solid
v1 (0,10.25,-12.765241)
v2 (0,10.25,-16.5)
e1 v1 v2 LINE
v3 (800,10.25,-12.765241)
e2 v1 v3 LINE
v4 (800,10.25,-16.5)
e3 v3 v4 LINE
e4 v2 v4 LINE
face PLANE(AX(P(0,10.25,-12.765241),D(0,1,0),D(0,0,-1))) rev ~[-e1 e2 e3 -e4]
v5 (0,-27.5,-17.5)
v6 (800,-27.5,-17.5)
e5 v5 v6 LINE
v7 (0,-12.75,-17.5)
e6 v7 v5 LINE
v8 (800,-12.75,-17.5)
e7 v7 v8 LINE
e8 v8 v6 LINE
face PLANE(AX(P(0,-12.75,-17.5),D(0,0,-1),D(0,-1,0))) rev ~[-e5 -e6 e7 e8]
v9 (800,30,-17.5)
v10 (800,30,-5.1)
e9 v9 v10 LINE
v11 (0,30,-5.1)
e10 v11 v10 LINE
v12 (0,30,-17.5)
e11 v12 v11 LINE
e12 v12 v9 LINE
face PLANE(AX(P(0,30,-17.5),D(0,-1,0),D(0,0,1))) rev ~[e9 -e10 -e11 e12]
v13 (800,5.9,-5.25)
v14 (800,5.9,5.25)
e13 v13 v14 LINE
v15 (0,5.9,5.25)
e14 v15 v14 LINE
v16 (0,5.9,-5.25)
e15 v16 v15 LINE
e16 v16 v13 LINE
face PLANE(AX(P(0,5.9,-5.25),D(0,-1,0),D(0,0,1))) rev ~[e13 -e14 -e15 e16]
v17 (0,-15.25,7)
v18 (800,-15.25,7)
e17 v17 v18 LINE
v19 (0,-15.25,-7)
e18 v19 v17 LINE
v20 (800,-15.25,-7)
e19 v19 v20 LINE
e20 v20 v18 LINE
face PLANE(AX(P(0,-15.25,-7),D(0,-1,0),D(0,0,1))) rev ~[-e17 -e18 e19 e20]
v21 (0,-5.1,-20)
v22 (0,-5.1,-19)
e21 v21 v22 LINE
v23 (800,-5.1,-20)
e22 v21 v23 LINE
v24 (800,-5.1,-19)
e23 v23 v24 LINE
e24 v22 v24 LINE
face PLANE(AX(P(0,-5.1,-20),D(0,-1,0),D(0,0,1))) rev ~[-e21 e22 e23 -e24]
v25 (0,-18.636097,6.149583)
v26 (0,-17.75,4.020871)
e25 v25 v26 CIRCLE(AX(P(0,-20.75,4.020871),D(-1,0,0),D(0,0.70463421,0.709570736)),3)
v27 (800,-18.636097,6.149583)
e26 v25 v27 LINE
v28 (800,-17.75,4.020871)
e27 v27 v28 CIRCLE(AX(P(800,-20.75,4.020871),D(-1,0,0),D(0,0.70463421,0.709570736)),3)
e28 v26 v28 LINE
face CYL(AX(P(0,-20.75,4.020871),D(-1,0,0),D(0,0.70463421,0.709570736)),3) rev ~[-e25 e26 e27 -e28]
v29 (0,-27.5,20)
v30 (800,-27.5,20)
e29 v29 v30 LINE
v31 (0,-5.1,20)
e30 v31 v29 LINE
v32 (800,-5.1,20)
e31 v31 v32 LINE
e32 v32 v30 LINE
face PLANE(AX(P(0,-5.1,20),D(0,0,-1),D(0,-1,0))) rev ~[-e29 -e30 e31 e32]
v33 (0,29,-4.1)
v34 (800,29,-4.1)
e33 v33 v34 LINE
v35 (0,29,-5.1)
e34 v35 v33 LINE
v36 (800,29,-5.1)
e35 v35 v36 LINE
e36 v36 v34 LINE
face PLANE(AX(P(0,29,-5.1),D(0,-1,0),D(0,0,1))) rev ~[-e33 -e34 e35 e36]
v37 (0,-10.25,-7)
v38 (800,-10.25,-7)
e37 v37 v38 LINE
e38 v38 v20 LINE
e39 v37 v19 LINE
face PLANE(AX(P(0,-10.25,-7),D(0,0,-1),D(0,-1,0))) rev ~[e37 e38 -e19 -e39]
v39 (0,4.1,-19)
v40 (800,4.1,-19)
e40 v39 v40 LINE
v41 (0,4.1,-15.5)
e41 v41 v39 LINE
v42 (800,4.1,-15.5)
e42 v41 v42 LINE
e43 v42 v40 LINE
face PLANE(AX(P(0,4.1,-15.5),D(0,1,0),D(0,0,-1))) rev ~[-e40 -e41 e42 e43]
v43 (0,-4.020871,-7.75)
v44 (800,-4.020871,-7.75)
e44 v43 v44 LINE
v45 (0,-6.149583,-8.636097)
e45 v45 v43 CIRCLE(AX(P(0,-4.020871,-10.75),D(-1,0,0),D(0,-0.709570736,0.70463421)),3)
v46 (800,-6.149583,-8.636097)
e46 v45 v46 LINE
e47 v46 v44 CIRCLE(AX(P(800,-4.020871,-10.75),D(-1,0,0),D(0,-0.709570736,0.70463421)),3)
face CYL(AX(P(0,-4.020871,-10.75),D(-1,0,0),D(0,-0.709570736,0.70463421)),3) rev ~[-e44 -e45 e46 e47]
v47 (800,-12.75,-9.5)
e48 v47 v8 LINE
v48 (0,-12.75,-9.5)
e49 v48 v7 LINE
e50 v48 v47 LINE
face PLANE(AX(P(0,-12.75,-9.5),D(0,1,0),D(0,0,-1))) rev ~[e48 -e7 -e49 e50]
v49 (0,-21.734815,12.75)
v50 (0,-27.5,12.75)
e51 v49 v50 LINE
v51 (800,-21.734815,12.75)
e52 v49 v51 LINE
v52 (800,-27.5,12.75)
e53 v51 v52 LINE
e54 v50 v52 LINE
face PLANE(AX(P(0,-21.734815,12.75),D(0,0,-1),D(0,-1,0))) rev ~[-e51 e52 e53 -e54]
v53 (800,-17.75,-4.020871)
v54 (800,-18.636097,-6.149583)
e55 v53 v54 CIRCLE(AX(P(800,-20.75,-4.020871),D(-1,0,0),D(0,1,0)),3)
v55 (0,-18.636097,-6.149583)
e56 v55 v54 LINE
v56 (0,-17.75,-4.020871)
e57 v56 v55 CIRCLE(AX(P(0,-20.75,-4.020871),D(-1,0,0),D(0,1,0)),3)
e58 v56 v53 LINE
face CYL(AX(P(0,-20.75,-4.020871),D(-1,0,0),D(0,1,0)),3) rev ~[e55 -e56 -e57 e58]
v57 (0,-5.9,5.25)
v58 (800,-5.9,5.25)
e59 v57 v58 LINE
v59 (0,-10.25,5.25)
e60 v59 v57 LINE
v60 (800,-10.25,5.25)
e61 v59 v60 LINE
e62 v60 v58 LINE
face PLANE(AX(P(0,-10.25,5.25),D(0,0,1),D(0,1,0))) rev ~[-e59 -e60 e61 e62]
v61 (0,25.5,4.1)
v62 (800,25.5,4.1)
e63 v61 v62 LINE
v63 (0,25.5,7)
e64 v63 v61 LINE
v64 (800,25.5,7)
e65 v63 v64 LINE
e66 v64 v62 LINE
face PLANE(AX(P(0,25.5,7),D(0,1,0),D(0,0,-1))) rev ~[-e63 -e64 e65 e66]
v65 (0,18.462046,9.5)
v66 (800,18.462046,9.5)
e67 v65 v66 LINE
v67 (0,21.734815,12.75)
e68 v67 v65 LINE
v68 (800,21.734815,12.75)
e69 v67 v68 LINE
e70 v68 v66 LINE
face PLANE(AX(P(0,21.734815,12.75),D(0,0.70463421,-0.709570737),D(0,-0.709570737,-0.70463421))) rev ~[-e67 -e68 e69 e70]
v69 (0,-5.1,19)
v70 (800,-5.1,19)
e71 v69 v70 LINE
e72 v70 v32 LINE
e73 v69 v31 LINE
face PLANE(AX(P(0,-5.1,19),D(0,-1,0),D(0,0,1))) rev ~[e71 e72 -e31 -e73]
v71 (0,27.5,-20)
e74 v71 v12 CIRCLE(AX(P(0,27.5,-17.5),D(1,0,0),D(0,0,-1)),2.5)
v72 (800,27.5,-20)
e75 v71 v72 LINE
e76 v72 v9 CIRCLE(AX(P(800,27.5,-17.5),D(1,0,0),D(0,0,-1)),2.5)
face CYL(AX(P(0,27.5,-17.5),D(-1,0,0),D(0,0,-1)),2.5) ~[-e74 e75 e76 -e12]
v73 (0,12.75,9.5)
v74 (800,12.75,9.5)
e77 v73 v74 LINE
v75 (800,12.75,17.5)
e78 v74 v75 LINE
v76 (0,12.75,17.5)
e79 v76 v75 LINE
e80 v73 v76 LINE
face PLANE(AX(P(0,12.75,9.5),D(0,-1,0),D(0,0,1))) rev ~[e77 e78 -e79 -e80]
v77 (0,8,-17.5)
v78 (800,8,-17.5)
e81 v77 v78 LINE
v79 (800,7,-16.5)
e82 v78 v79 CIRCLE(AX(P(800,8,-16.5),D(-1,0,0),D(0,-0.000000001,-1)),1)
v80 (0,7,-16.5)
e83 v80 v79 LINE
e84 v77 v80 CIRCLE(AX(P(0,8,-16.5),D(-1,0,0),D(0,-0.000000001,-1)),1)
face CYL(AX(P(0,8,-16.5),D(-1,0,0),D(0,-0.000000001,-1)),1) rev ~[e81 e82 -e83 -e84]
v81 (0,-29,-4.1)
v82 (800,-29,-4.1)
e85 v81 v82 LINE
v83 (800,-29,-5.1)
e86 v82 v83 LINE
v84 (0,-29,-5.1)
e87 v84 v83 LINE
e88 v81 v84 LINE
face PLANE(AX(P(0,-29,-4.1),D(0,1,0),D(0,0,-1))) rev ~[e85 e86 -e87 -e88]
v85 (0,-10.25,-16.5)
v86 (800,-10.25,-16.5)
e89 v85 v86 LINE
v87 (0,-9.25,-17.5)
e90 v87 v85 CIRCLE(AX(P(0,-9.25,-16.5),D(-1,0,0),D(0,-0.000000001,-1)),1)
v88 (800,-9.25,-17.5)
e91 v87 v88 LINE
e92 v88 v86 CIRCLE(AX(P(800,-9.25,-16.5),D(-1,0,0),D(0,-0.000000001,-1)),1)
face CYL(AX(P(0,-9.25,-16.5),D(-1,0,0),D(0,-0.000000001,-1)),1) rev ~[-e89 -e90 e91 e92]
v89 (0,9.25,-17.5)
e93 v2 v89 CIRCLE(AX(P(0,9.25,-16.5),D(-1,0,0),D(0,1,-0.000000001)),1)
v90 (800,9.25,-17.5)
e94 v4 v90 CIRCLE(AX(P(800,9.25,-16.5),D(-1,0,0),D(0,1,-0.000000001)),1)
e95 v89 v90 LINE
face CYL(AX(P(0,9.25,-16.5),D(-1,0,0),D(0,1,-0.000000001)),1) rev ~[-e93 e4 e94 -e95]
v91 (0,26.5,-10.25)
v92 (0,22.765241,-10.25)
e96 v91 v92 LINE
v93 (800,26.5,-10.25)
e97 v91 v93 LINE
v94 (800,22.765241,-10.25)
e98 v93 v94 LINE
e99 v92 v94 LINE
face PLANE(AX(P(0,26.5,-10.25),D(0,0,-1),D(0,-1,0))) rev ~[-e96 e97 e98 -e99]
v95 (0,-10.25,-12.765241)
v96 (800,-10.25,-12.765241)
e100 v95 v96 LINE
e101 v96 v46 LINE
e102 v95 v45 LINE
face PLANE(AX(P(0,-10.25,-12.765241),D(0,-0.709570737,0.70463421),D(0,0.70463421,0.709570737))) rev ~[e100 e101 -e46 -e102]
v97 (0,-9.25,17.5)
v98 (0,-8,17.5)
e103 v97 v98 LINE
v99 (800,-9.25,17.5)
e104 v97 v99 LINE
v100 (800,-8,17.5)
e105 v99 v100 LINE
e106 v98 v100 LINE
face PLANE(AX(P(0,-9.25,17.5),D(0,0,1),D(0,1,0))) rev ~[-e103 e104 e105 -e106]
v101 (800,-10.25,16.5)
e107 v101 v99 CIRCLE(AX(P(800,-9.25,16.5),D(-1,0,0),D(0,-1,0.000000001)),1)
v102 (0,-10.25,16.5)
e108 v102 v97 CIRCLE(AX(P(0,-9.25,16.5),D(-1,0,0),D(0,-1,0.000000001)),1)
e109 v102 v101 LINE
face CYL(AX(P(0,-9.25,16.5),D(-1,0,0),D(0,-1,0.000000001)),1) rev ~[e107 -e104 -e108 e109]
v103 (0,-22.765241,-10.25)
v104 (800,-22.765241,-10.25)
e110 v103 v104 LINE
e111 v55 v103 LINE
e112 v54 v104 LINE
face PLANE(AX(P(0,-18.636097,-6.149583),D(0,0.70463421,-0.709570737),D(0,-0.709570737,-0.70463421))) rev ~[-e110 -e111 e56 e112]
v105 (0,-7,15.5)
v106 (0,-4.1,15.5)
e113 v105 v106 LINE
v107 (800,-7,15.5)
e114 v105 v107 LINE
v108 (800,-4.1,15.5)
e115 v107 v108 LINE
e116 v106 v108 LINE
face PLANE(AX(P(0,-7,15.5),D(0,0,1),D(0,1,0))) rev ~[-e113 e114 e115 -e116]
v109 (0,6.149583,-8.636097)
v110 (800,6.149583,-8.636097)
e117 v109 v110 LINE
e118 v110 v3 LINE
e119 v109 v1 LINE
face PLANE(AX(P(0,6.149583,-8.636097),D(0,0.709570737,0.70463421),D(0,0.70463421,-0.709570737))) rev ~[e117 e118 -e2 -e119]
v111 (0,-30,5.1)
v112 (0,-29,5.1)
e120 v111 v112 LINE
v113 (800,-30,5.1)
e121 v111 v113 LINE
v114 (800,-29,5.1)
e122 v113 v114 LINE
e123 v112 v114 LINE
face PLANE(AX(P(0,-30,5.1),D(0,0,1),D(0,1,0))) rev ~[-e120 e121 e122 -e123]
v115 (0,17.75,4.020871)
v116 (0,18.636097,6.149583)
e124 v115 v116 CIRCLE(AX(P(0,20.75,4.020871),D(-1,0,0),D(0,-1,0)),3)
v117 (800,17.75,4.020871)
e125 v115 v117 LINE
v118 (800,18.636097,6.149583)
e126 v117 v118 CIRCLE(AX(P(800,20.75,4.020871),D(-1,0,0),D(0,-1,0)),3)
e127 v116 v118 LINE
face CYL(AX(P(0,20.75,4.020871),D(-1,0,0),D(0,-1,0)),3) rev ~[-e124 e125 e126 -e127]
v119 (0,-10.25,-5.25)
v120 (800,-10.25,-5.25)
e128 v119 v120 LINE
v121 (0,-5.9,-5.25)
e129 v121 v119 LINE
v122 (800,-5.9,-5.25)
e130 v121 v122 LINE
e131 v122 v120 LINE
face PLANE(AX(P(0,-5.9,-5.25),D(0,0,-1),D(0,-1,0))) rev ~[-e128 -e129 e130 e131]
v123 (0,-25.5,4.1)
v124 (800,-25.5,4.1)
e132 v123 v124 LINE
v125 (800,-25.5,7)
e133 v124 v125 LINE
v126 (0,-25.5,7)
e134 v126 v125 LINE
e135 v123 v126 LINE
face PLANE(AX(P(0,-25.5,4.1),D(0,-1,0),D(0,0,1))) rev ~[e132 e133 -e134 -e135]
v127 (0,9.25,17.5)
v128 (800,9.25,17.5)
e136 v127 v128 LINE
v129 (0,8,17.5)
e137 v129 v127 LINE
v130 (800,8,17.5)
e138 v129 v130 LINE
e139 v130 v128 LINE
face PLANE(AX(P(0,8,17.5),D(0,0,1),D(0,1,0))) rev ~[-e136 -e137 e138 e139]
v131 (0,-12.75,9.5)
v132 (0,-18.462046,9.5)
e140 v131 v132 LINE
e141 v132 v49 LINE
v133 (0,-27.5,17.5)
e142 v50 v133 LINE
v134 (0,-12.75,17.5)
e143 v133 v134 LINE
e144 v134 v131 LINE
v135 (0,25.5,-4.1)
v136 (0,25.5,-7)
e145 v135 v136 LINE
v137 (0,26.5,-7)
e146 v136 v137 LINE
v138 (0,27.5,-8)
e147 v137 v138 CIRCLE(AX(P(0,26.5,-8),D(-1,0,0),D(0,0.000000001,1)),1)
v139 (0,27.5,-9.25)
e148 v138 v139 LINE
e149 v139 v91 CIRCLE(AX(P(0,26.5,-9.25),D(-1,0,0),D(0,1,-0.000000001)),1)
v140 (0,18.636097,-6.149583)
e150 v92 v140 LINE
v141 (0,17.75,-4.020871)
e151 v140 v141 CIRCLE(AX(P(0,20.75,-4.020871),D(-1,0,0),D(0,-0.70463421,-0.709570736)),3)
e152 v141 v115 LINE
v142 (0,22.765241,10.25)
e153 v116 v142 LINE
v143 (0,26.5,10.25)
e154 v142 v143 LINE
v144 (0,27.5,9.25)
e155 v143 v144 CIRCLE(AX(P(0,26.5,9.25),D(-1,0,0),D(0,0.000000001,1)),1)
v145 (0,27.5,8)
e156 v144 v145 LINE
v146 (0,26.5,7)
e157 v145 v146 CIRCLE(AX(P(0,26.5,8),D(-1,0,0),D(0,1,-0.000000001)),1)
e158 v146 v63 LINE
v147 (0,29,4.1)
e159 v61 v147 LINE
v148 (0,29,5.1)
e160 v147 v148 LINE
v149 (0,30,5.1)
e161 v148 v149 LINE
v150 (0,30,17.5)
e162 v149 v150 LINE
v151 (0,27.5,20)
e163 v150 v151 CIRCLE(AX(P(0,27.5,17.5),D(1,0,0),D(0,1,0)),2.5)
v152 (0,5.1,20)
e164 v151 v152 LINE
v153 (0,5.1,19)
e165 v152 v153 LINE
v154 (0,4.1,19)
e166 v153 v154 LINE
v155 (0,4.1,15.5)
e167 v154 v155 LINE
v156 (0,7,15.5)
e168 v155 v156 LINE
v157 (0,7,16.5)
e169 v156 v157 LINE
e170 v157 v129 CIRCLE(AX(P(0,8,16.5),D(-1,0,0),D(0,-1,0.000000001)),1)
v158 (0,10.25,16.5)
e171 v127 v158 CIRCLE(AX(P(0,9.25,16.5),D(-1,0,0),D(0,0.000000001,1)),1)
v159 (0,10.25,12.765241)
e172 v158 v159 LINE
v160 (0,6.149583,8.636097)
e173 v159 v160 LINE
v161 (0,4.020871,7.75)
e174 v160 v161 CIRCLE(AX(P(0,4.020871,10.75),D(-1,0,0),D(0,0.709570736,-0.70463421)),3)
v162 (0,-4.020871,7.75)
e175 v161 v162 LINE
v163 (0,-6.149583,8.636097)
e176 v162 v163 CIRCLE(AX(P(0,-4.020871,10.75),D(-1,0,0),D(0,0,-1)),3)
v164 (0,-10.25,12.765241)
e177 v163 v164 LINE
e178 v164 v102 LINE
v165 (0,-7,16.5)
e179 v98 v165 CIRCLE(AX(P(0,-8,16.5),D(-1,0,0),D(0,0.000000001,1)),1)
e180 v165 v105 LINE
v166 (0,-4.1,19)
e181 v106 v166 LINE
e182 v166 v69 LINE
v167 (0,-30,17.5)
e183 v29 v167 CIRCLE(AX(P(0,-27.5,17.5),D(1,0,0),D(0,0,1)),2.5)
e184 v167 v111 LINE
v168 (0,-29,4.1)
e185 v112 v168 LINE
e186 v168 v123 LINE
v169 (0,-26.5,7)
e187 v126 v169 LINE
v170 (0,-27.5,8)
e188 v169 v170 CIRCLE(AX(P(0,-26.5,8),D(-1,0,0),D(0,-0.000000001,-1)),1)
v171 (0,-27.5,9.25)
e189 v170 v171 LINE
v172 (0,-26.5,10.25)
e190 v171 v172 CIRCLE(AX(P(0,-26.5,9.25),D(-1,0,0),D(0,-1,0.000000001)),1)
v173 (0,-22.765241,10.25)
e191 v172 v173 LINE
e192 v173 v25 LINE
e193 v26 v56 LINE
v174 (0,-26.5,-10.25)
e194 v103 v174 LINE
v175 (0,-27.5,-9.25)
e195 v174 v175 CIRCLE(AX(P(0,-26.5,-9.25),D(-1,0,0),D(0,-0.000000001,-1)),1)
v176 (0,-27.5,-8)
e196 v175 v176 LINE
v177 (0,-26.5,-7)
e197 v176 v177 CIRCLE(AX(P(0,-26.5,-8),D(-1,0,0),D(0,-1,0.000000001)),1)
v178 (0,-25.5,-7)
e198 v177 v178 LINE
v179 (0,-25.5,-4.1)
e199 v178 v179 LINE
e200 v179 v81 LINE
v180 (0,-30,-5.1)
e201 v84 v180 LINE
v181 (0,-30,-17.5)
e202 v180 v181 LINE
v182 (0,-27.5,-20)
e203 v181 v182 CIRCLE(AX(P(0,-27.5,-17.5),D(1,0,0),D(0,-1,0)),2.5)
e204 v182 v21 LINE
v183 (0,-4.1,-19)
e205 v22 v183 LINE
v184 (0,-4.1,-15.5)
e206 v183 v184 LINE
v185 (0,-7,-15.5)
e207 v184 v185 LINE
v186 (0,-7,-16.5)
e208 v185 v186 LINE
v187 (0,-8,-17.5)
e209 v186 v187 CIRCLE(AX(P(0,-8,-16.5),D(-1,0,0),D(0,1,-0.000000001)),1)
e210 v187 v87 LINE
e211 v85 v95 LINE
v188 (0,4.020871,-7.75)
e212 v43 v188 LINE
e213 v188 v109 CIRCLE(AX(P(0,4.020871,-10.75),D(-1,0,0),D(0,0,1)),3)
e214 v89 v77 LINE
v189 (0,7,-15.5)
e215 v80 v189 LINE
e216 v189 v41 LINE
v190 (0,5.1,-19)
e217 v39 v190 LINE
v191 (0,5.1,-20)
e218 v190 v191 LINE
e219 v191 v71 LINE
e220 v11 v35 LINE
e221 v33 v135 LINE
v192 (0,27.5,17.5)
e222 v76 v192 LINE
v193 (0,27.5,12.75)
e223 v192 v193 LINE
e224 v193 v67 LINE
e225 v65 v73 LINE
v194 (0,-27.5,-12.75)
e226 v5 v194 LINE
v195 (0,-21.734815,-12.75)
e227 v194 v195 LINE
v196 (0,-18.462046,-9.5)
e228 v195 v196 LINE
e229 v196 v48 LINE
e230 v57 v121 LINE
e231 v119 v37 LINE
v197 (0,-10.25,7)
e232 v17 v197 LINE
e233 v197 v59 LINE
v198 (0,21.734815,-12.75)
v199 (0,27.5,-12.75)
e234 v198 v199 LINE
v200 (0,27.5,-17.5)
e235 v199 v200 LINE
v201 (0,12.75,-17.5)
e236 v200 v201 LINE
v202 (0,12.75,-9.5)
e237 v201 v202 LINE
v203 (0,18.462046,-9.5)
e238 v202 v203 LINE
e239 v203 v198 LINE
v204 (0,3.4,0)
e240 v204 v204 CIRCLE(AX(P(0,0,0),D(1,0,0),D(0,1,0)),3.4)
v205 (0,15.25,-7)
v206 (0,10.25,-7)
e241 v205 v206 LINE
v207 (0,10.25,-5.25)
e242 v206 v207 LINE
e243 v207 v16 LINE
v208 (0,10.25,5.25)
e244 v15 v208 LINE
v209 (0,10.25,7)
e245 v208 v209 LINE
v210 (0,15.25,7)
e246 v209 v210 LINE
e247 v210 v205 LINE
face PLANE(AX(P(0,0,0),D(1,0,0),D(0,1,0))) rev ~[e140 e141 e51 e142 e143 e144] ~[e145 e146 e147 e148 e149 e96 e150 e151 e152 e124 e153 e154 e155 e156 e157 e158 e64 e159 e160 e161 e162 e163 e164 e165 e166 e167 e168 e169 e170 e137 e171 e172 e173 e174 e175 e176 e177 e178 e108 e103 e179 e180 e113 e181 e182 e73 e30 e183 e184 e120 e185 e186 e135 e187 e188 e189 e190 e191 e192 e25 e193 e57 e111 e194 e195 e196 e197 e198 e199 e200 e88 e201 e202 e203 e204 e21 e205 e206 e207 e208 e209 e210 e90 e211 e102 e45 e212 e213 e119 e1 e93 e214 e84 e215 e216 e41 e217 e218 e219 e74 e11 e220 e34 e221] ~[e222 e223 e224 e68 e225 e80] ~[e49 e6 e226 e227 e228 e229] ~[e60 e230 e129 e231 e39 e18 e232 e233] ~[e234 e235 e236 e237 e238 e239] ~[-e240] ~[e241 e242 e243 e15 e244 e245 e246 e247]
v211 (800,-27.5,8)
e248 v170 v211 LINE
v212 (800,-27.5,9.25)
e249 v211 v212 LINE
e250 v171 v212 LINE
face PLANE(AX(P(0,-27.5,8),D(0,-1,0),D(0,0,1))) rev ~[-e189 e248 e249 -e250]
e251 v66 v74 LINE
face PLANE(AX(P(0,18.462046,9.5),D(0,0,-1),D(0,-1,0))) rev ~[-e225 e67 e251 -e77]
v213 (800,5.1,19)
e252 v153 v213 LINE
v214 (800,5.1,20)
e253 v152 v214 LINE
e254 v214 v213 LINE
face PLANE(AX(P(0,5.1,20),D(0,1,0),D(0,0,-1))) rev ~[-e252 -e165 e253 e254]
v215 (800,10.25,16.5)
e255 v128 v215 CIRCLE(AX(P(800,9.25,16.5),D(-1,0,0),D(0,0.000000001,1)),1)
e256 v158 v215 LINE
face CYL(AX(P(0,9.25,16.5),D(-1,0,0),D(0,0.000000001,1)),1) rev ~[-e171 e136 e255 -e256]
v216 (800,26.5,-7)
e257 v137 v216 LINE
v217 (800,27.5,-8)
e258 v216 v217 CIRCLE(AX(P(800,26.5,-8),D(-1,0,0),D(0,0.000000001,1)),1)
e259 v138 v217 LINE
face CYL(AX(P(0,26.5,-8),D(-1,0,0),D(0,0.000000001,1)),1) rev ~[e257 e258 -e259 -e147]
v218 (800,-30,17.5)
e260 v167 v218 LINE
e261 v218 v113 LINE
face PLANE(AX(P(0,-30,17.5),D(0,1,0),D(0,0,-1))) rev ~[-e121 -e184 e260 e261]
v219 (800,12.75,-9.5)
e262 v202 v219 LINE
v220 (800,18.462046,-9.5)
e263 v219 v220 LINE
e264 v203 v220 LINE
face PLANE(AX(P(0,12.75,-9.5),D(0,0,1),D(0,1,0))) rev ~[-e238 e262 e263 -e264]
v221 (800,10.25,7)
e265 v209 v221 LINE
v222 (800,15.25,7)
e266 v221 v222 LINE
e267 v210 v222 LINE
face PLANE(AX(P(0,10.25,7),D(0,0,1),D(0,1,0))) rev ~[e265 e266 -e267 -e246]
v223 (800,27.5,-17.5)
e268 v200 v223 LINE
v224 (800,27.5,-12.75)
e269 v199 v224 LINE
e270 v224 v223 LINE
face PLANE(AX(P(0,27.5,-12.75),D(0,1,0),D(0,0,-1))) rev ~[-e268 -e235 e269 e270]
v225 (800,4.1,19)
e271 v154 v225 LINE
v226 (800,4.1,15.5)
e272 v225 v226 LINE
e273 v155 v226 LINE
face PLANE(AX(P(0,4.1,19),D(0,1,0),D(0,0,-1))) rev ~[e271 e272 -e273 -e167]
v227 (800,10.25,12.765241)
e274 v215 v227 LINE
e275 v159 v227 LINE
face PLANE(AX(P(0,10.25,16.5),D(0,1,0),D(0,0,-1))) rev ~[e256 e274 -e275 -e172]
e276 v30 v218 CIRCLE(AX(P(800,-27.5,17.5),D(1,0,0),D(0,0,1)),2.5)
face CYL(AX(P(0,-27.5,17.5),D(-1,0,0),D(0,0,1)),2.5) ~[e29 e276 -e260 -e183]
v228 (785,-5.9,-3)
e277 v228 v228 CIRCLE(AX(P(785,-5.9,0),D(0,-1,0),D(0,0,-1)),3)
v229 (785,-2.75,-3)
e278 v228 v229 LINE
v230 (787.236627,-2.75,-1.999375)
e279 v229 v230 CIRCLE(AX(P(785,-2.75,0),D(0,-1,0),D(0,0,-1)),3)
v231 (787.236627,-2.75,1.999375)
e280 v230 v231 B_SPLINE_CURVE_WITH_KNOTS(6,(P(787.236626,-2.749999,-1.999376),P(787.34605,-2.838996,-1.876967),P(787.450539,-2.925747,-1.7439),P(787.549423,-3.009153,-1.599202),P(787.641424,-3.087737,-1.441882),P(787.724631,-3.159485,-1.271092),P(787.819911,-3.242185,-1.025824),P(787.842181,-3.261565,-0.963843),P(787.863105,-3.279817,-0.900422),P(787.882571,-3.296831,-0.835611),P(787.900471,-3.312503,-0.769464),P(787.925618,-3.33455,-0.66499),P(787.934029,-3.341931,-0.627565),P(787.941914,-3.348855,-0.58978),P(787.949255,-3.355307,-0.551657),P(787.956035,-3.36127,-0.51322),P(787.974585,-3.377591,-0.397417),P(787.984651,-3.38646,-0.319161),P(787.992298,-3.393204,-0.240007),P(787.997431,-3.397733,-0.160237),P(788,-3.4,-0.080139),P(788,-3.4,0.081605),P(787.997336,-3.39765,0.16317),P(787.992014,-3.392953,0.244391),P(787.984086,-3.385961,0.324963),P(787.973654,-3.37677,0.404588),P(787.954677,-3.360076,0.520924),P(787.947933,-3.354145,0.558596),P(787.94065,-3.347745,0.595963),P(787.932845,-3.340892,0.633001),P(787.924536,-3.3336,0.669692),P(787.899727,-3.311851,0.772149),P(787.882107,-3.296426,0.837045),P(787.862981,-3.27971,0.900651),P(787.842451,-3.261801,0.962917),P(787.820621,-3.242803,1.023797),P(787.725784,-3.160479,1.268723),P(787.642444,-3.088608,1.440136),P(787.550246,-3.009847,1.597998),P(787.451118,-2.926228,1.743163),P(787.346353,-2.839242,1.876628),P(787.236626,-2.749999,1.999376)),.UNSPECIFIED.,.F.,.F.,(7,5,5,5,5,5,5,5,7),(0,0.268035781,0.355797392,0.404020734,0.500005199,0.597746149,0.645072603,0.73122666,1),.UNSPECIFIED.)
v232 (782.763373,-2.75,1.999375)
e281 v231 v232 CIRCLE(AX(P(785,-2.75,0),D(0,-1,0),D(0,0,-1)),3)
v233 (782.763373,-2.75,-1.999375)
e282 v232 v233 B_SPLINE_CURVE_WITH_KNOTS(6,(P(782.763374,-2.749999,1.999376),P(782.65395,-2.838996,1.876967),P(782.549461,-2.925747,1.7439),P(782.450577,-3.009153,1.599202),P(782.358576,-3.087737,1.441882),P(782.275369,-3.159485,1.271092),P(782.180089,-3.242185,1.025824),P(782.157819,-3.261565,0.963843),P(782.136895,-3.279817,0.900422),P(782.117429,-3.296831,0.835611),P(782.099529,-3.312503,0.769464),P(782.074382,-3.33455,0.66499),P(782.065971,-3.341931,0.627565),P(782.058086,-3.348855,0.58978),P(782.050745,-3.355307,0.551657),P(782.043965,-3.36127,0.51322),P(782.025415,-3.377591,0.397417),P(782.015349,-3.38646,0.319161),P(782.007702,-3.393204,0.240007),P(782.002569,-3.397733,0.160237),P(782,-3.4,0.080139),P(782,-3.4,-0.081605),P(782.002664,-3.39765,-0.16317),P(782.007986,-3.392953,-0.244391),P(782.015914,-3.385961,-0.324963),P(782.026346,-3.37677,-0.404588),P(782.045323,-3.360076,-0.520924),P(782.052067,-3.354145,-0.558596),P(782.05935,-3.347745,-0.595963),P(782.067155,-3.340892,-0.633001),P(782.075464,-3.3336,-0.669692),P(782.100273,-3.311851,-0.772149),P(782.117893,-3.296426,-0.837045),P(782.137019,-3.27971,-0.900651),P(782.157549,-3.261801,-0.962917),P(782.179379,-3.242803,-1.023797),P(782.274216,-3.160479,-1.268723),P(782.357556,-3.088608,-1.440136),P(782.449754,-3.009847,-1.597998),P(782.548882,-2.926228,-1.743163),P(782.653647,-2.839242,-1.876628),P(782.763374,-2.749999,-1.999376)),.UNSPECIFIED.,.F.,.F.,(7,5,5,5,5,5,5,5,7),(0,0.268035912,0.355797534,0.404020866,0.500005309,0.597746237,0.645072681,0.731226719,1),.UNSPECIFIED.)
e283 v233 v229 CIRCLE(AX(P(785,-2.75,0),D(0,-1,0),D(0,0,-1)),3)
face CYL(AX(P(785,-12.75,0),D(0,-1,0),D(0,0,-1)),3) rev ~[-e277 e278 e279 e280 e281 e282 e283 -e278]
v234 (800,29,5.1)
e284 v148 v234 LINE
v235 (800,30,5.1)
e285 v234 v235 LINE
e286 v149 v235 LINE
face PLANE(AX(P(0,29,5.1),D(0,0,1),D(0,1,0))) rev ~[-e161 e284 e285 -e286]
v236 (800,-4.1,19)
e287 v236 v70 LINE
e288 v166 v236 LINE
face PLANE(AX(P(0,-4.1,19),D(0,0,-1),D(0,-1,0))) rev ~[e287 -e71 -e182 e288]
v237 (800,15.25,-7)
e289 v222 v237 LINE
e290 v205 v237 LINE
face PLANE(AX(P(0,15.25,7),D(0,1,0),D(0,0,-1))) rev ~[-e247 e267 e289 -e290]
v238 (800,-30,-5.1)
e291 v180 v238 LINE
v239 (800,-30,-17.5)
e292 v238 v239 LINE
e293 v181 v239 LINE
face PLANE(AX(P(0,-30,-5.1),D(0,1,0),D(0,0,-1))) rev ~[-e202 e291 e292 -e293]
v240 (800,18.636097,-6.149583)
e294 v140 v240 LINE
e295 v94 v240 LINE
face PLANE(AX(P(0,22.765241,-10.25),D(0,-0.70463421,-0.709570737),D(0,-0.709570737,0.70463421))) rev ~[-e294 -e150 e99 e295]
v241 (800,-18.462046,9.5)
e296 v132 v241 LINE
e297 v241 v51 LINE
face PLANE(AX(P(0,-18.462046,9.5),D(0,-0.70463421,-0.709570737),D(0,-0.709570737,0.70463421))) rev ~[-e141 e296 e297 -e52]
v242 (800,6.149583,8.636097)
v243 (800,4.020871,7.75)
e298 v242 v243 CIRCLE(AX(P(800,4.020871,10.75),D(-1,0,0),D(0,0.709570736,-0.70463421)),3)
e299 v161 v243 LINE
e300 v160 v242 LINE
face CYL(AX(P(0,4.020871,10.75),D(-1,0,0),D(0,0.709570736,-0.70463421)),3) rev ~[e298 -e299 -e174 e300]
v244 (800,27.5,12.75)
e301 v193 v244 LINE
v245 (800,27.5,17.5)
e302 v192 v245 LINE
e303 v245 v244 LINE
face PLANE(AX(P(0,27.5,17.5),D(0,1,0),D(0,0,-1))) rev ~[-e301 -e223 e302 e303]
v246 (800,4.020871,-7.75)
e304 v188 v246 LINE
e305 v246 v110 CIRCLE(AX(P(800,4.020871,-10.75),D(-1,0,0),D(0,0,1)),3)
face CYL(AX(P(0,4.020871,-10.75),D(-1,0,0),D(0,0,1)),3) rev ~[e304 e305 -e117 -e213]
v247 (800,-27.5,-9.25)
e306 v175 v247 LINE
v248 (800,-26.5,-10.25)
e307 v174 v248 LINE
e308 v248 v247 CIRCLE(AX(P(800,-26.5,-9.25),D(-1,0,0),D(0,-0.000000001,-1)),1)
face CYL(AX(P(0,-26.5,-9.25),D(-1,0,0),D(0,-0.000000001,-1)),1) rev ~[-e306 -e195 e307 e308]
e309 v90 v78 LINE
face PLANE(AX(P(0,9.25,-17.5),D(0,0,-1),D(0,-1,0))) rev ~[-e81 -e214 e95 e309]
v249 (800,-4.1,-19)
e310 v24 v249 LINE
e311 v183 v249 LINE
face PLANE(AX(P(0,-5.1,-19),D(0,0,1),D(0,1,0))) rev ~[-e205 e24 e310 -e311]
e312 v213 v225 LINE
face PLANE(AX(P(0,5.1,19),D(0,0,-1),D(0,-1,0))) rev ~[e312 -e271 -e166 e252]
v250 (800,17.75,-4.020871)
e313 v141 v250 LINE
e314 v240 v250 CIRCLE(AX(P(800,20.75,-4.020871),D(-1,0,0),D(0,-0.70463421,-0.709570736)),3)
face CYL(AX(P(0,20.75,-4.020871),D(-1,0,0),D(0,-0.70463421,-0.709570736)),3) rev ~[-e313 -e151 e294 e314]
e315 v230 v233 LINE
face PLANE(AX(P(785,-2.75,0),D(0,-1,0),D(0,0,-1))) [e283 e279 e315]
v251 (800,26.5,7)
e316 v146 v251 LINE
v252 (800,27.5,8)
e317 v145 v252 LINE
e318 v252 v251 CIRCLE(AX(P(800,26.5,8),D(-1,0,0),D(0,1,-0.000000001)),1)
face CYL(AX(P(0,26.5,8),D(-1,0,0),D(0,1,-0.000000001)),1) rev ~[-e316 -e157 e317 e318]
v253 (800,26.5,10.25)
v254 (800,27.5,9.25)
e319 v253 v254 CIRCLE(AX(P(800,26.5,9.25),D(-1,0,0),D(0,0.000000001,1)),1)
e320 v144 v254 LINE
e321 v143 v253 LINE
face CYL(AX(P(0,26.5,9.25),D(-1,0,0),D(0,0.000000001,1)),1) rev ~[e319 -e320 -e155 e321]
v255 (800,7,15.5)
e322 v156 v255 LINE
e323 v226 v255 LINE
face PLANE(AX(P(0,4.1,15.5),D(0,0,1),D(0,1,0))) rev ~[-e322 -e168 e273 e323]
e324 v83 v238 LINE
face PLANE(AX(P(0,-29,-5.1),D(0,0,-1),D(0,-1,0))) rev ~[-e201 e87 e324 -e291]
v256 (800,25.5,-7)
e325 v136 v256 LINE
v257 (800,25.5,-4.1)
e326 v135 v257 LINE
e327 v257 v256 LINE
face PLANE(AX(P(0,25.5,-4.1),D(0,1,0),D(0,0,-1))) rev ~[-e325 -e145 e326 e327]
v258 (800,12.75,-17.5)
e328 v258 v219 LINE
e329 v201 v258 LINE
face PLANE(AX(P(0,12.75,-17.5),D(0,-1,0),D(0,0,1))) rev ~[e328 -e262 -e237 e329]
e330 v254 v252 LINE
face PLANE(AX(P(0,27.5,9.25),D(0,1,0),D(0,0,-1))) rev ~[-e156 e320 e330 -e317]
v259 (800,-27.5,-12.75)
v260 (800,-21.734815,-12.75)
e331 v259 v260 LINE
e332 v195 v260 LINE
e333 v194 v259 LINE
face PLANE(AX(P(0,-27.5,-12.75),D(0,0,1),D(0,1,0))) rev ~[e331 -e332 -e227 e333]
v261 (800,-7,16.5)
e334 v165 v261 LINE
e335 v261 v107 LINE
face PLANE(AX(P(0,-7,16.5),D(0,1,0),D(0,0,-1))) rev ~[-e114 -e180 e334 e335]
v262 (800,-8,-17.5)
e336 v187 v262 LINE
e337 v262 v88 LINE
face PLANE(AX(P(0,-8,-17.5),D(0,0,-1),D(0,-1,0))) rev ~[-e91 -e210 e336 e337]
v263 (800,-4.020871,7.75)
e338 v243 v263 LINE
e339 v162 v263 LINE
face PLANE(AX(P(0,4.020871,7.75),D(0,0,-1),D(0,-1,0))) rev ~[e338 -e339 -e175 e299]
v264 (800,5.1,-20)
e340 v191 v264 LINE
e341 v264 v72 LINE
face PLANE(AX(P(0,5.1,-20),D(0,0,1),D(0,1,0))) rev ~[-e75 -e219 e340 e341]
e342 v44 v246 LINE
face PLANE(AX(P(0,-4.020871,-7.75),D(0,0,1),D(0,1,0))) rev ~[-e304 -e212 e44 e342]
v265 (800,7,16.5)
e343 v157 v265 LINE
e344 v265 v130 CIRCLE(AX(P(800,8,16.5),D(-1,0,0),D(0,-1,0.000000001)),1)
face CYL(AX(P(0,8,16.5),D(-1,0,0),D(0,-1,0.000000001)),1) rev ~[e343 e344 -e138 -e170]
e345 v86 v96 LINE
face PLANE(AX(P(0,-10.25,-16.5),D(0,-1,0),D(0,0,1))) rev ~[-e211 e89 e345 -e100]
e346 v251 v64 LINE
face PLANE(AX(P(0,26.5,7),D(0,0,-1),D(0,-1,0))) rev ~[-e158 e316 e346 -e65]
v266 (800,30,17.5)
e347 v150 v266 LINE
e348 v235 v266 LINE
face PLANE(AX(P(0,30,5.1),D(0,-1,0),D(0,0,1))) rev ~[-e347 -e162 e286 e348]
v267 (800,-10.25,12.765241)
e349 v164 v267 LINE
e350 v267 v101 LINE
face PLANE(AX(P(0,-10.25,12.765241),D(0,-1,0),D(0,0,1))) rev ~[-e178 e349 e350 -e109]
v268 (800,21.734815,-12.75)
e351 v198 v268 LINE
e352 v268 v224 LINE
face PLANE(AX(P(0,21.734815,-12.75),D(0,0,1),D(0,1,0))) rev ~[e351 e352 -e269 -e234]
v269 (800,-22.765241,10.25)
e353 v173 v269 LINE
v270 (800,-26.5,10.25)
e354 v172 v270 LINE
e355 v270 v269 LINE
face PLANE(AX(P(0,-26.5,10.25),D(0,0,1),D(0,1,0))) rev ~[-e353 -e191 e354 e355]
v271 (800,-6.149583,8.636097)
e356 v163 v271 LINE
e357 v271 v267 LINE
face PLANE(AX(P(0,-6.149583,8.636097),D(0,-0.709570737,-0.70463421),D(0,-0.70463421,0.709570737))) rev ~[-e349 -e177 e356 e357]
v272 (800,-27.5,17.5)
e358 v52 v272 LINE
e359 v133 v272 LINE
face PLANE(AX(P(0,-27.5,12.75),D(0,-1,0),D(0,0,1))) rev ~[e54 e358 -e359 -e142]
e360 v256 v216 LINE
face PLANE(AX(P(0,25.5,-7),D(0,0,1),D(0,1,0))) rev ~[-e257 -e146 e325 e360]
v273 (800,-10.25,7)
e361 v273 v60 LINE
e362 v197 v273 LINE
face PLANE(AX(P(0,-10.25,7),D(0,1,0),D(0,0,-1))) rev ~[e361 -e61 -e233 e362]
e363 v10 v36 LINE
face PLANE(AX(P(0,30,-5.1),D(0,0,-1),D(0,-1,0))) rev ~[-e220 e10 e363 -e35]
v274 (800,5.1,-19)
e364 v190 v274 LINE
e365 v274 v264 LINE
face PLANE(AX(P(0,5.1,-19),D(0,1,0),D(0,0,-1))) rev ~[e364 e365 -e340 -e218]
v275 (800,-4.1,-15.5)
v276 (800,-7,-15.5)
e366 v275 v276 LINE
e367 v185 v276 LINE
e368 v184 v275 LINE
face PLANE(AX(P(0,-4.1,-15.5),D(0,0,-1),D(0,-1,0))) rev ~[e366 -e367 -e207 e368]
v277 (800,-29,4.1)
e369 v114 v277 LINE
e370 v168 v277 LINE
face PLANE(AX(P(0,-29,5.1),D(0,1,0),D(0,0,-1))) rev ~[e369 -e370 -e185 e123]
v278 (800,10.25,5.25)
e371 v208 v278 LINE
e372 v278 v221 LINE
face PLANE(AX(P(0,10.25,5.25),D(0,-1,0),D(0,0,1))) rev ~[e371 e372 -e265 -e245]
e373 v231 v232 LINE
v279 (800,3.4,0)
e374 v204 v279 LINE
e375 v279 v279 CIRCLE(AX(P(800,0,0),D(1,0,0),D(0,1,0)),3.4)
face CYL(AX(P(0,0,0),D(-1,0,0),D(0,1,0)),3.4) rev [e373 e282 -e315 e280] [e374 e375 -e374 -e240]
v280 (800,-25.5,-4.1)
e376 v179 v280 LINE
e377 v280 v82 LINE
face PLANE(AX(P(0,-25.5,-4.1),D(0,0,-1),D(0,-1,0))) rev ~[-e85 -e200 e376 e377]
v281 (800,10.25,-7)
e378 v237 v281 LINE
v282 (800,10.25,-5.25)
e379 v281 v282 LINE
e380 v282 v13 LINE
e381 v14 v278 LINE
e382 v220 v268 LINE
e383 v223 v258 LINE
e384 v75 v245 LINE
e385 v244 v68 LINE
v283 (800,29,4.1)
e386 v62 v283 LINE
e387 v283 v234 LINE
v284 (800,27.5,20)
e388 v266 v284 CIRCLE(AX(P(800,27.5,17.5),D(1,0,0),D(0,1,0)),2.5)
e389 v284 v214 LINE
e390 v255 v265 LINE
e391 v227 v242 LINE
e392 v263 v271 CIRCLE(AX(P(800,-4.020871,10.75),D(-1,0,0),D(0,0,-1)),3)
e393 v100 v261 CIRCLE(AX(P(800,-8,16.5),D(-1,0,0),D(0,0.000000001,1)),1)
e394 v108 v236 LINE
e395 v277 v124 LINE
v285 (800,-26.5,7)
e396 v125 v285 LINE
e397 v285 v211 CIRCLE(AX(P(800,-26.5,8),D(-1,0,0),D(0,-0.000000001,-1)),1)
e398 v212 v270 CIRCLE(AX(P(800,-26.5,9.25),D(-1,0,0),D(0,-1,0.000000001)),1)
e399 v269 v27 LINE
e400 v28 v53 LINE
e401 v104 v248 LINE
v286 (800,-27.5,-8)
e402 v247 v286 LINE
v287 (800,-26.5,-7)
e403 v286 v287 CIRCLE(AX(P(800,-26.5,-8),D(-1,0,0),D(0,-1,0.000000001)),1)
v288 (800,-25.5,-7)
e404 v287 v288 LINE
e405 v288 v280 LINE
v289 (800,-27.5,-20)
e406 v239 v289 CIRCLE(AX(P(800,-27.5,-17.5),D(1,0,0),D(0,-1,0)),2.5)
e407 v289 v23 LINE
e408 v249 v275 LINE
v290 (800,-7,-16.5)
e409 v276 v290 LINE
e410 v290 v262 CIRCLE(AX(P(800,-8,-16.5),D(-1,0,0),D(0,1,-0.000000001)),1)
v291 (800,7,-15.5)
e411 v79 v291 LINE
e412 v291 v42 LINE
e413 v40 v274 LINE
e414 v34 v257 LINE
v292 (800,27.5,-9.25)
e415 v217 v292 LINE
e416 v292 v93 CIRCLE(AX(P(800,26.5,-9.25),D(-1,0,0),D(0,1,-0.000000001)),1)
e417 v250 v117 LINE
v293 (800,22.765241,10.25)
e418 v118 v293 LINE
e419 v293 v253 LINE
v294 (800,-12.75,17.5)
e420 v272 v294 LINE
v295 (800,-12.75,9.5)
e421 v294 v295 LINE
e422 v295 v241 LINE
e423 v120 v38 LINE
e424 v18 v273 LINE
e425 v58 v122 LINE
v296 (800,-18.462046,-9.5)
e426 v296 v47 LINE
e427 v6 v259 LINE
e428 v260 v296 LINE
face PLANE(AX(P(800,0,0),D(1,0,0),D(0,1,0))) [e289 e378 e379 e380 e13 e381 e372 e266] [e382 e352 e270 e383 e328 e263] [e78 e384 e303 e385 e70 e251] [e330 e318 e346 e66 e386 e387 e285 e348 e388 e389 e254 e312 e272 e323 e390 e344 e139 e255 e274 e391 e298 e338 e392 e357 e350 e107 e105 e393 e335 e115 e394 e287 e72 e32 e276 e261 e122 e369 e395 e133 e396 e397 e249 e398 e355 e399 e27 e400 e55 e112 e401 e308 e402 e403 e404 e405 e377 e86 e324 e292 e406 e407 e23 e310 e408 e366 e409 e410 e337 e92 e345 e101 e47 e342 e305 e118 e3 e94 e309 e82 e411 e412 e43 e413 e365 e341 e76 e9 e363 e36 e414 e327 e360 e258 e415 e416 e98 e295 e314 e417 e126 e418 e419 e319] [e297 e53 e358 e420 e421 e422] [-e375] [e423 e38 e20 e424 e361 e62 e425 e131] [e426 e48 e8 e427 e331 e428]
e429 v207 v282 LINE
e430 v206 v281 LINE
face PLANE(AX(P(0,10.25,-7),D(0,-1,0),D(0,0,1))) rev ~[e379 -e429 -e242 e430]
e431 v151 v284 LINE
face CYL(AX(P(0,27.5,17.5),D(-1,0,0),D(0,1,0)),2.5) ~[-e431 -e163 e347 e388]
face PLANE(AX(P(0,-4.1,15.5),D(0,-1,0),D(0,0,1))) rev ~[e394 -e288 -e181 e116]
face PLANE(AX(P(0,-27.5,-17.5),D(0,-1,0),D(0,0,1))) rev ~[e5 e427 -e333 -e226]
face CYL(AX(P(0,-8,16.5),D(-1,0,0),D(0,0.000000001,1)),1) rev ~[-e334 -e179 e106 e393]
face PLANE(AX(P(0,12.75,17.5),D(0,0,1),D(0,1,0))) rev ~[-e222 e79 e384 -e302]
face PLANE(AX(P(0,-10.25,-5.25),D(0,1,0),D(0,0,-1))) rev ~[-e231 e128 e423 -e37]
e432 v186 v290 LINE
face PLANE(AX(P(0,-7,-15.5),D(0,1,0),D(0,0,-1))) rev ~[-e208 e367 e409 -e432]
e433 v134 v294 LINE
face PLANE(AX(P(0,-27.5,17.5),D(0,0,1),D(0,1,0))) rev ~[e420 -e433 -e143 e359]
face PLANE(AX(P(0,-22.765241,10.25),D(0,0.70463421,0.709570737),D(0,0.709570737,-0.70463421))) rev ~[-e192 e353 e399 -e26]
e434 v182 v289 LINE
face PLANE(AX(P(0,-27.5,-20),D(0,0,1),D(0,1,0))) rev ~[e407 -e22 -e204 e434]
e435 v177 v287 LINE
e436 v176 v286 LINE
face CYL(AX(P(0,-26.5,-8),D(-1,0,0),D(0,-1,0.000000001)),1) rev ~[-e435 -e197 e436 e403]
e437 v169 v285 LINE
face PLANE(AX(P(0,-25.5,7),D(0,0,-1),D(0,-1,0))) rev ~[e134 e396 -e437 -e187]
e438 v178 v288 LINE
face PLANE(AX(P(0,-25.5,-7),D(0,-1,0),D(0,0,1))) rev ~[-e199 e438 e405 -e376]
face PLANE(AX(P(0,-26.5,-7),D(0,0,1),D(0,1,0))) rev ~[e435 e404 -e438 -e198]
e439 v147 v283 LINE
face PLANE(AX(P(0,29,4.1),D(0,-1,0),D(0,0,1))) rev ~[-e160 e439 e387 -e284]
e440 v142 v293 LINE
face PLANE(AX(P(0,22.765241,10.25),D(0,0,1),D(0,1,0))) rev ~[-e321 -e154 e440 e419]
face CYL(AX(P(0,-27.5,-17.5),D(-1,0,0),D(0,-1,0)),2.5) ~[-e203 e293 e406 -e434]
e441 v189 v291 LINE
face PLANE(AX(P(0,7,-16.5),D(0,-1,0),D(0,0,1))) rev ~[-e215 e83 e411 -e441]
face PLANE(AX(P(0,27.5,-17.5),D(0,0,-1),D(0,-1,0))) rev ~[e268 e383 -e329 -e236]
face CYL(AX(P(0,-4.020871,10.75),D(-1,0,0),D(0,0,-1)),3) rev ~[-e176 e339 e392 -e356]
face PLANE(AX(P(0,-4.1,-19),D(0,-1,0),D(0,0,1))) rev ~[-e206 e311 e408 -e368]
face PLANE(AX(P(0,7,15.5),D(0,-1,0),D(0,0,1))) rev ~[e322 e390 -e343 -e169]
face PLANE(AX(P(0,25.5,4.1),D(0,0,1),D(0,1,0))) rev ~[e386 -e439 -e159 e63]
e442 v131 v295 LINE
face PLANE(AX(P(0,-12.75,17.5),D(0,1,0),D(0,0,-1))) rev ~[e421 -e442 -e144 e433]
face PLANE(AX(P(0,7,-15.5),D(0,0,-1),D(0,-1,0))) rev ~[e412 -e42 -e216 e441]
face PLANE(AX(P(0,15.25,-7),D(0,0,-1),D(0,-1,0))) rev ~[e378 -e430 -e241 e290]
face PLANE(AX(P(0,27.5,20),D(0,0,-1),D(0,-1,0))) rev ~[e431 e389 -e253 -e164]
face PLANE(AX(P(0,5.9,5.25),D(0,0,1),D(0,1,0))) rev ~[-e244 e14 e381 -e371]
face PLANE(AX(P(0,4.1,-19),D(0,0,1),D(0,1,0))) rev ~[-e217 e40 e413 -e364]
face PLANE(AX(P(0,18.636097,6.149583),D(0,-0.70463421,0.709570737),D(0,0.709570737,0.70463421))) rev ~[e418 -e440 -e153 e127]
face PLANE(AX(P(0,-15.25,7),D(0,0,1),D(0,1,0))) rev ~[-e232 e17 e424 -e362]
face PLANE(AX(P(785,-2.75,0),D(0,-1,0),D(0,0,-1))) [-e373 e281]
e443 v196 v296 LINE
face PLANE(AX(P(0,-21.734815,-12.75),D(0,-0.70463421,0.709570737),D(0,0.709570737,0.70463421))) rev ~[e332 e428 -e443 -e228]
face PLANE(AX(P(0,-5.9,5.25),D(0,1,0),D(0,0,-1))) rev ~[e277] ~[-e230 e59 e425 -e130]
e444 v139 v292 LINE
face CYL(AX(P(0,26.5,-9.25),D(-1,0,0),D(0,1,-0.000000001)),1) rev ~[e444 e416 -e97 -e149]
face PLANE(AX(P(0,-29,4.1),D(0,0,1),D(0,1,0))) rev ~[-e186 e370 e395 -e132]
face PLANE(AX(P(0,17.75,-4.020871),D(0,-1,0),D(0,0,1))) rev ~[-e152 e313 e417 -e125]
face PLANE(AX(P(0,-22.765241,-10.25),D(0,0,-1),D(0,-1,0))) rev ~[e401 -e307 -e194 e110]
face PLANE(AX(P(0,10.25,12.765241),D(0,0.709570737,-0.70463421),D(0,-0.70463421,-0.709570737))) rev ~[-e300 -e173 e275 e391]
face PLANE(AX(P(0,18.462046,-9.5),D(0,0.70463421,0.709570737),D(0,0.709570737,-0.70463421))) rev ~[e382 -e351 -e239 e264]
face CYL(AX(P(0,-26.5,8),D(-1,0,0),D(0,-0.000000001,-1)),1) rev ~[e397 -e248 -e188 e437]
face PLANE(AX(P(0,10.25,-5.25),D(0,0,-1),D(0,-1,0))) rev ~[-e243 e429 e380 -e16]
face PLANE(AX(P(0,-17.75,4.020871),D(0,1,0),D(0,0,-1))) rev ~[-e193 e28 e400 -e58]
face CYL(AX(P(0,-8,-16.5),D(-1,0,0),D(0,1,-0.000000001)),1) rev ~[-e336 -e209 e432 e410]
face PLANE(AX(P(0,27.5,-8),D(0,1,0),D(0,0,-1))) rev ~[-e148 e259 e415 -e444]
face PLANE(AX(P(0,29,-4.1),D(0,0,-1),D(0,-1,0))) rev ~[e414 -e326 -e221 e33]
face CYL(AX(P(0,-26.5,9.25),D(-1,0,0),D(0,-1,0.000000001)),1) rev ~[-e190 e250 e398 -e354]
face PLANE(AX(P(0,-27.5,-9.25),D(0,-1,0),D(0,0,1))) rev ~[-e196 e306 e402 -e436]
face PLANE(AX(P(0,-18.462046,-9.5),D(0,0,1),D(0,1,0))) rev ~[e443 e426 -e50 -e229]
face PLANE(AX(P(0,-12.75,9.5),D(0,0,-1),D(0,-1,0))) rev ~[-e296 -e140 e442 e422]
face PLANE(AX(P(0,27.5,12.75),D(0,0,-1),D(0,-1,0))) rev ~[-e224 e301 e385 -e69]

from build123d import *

# Parameters (mm, degrees)
SKETCH_19_R           = 3.4
MEMBER_4060_A_1_DEPTH = 800
SKETCH_14_R           = 3
CUT_EXTRUDE_1_DEPTH   = 10


with BuildPart() as part:
    # 草图19 → Member 4060-a _1 (new body)
    with BuildSketch(Plane.YZ):
        with BuildLine():
            Line((10.25, 16.5), (10.25, 12.765240679))
            Line((10.25, 12.765240679), (6.149583391, 8.63609737))
            ThreePointArc((6.149583391, 8.63609737), (5.17375715, 7.980369349), (4.020871182, 7.75))
            Line((4.020871182, 7.75), (-4.020871182, 7.75))
            ThreePointArc((-4.020871182, 7.75), (-5.17375715, 7.980369349), (-6.149583391, 8.63609737))
            Line((-6.149583391, 8.63609737), (-10.25, 12.765240679))
            Line((-10.25, 12.765240679), (-10.25, 16.5))
            ThreePointArc((-10.25, 16.5), (-9.957106781, 17.207106781), (-9.25, 17.5))
            Line((-9.25, 17.5), (-8, 17.5))
            ThreePointArc((-8, 17.5), (-7.292893219, 17.207106781), (-7, 16.5))
            Line((-7, 16.5), (-7, 15.5))
            Line((-7, 15.5), (-4.1, 15.5))
            Line((-4.1, 15.5), (-4.1, 19))
            Line((-4.1, 19), (-5.1, 19))
            Line((-5.1, 19), (-5.1, 20))
            Line((-5.1, 20), (-27.5, 20))
            ThreePointArc((-27.5, 20), (-29.267766953, 19.267766953), (-30, 17.5))
            Line((-30, 17.5), (-30, 5.1))
            Line((-30, 5.1), (-29, 5.1))
            Line((-29, 5.1), (-29, 4.1))
            Line((-29, 4.1), (-25.5, 4.1))
            Line((-25.5, 4.1), (-25.5, 7))
            Line((-25.5, 7), (-26.5, 7))
            ThreePointArc((-26.5, 7), (-27.207106781, 7.292893219), (-27.5, 8))
            Line((-27.5, 8), (-27.5, 9.25))
            ThreePointArc((-27.5, 9.25), (-27.207106781, 9.957106781), (-26.5, 10.25))
            Line((-26.5, 10.25), (-22.765240679, 10.25))
            Line((-22.765240679, 10.25), (-18.63609737, 6.149583391))
            ThreePointArc((-18.63609737, 6.149583391), (-17.980369349, 5.17375715), (-17.75, 4.020871182))
            Line((-17.75, 4.020871182), (-17.75, -4.020871182))
            ThreePointArc((-17.75, -4.020871182), (-17.980369349, -5.17375715), (-18.63609737, -6.149583391))
            Line((-18.63609737, -6.149583391), (-22.765240679, -10.25))
            Line((-22.765240679, -10.25), (-26.5, -10.25))
            ThreePointArc((-26.5, -10.25), (-27.207106781, -9.957106781), (-27.5, -9.25))
            Line((-27.5, -9.25), (-27.5, -8))
            ThreePointArc((-27.5, -8), (-27.207106781, -7.292893219), (-26.5, -7))
            Line((-26.5, -7), (-25.5, -7))
            Line((-25.5, -7), (-25.5, -4.1))
            Line((-25.5, -4.1), (-29, -4.1))
            Line((-29, -4.1), (-29, -5.1))
            Line((-29, -5.1), (-30, -5.1))
            Line((-30, -5.1), (-30, -17.5))
            ThreePointArc((-30, -17.5), (-29.267766953, -19.267766953), (-27.5, -20))
            Line((-27.5, -20), (-5.1, -20))
            Line((-5.1, -20), (-5.1, -19))
            Line((-5.1, -19), (-4.1, -19))
            Line((-4.1, -19), (-4.1, -15.5))
            Line((-4.1, -15.5), (-7, -15.5))
            Line((-7, -15.5), (-7, -16.5))
            ThreePointArc((-7, -16.5), (-7.292893219, -17.207106781), (-8, -17.5))
            Line((-8, -17.5), (-9.25, -17.5))
            ThreePointArc((-9.25, -17.5), (-9.957106781, -17.207106781), (-10.25, -16.5))
            Line((-10.25, -16.5), (-10.25, -12.765240679))
            Line((-10.25, -12.765240679), (-6.149583391, -8.63609737))
            ThreePointArc((-6.149583391, -8.63609737), (-5.17375715, -7.980369349), (-4.020871182, -7.75))
            Line((-4.020871182, -7.75), (4.020871182, -7.75))
            ThreePointArc((4.020871182, -7.75), (5.17375715, -7.980369349), (6.149583391, -8.63609737))
            Line((6.149583391, -8.63609737), (10.25, -12.765240679))
            Line((10.25, -12.765240679), (10.25, -16.5))
            ThreePointArc((10.25, -16.5), (9.957106781, -17.207106781), (9.25, -17.5))
            Line((9.25, -17.5), (8, -17.5))
            ThreePointArc((8, -17.5), (7.292893219, -17.207106781), (7, -16.5))
            Line((7, -16.5), (7, -15.5))
            Line((7, -15.5), (4.1, -15.5))
            Line((4.1, -15.5), (4.1, -19))
            Line((4.1, -19), (5.1, -19))
            Line((5.1, -19), (5.1, -20))
            Line((5.1, -20), (27.5, -20))
            ThreePointArc((27.5, -20), (29.267766953, -19.267766953), (30, -17.5))
            Line((30, -17.5), (30, -5.1))
            Line((30, -5.1), (29, -5.1))
            Line((29, -5.1), (29, -4.1))
            Line((29, -4.1), (25.5, -4.1))
            Line((25.5, -4.1), (25.5, -7))
            Line((25.5, -7), (26.5, -7))
            ThreePointArc((26.5, -7), (27.207106781, -7.292893219), (27.5, -8))
            Line((27.5, -8), (27.5, -9.25))
            ThreePointArc((27.5, -9.25), (27.207106781, -9.957106781), (26.5, -10.25))
            Line((26.5, -10.25), (22.765240679, -10.25))
            Line((22.765240679, -10.25), (18.63609737, -6.149583391))
            ThreePointArc((18.63609737, -6.149583391), (17.980369349, -5.17375715), (17.75, -4.020871182))
            Line((17.75, -4.020871182), (17.75, 4.020871182))
            ThreePointArc((17.75, 4.020871182), (17.980369349, 5.17375715), (18.63609737, 6.149583391))
            Line((18.63609737, 6.149583391), (22.765240679, 10.25))
            Line((22.765240679, 10.25), (26.5, 10.25))
            ThreePointArc((26.5, 10.25), (27.207106781, 9.957106781), (27.5, 9.25))
            Line((27.5, 9.25), (27.5, 8))
            ThreePointArc((27.5, 8), (27.207106781, 7.292893219), (26.5, 7))
            Line((26.5, 7), (25.5, 7))
            Line((25.5, 7), (25.5, 4.1))
            Line((25.5, 4.1), (29, 4.1))
            Line((29, 4.1), (29, 5.1))
            Line((29, 5.1), (30, 5.1))
            Line((30, 5.1), (30, 17.5))
            ThreePointArc((30, 17.5), (29.267766953, 19.267766953), (27.5, 20))
            Line((27.5, 20), (5.1, 20))
            Line((5.1, 20), (5.1, 19))
            Line((5.1, 19), (4.1, 19))
            Line((4.1, 19), (4.1, 15.5))
            Line((4.1, 15.5), (7, 15.5))
            Line((7, 15.5), (7, 16.5))
            ThreePointArc((7, 16.5), (7.292893219, 17.207106781), (8, 17.5))
            Line((8, 17.5), (9.25, 17.5))
            ThreePointArc((9.25, 17.5), (9.957106781, 17.207106781), (10.25, 16.5))
        make_face()
        Circle(SKETCH_19_R, mode=Mode.SUBTRACT)
        Polygon((27.5, -12.75), (27.5, -17.5), (12.75, -17.5), (12.75, -9.5), (18.462046185, -9.5), (21.734815036, -12.75), align=None, mode=Mode.SUBTRACT)
        Polygon((5.9, 5.25), (10.25, 5.25), (10.25, 7), (15.25, 7), (15.25, -7), (10.25, -7), (10.25, -5.25), (5.9, -5.25), align=None, mode=Mode.SUBTRACT)
        Polygon((-27.5, 12.75), (-27.5, 17.5), (-12.75, 17.5), (-12.75, 9.5), (-18.462046185, 9.5), (-21.734815036, 12.75), align=None, mode=Mode.SUBTRACT)
        Polygon((27.5, 17.5), (27.5, 12.75), (21.734815036, 12.75), (18.462046185, 9.5), (12.75, 9.5), (12.75, 17.5), align=None, mode=Mode.SUBTRACT)
        Polygon((-10.25, 7), (-10.25, 5.25), (-5.9, 5.25), (-5.9, -5.25), (-10.25, -5.25), (-10.25, -7), (-15.25, -7), (-15.25, 7), align=None, mode=Mode.SUBTRACT)
        Polygon((-27.5, -17.5), (-27.5, -12.75), (-21.734815036, -12.75), (-18.462046185, -9.5), (-12.75, -9.5), (-12.75, -17.5), align=None, mode=Mode.SUBTRACT)
    extrude(amount=MEMBER_4060_A_1_DEPTH)

    # 草图14 → 切除-拉伸1 (cut)
    with BuildSketch(Plane(origin=(0, -12.75, 0), x_dir=(-1, 0, 0), z_dir=(0, -1, 0))):
        with Locations(Location((-785, 0, 0), (0, 0, 90))):
            Circle(SKETCH_14_R)
    extrude(amount=-CUT_EXTRUDE_1_DEPTH, mode=Mode.SUBTRACT)


solid = part.part
